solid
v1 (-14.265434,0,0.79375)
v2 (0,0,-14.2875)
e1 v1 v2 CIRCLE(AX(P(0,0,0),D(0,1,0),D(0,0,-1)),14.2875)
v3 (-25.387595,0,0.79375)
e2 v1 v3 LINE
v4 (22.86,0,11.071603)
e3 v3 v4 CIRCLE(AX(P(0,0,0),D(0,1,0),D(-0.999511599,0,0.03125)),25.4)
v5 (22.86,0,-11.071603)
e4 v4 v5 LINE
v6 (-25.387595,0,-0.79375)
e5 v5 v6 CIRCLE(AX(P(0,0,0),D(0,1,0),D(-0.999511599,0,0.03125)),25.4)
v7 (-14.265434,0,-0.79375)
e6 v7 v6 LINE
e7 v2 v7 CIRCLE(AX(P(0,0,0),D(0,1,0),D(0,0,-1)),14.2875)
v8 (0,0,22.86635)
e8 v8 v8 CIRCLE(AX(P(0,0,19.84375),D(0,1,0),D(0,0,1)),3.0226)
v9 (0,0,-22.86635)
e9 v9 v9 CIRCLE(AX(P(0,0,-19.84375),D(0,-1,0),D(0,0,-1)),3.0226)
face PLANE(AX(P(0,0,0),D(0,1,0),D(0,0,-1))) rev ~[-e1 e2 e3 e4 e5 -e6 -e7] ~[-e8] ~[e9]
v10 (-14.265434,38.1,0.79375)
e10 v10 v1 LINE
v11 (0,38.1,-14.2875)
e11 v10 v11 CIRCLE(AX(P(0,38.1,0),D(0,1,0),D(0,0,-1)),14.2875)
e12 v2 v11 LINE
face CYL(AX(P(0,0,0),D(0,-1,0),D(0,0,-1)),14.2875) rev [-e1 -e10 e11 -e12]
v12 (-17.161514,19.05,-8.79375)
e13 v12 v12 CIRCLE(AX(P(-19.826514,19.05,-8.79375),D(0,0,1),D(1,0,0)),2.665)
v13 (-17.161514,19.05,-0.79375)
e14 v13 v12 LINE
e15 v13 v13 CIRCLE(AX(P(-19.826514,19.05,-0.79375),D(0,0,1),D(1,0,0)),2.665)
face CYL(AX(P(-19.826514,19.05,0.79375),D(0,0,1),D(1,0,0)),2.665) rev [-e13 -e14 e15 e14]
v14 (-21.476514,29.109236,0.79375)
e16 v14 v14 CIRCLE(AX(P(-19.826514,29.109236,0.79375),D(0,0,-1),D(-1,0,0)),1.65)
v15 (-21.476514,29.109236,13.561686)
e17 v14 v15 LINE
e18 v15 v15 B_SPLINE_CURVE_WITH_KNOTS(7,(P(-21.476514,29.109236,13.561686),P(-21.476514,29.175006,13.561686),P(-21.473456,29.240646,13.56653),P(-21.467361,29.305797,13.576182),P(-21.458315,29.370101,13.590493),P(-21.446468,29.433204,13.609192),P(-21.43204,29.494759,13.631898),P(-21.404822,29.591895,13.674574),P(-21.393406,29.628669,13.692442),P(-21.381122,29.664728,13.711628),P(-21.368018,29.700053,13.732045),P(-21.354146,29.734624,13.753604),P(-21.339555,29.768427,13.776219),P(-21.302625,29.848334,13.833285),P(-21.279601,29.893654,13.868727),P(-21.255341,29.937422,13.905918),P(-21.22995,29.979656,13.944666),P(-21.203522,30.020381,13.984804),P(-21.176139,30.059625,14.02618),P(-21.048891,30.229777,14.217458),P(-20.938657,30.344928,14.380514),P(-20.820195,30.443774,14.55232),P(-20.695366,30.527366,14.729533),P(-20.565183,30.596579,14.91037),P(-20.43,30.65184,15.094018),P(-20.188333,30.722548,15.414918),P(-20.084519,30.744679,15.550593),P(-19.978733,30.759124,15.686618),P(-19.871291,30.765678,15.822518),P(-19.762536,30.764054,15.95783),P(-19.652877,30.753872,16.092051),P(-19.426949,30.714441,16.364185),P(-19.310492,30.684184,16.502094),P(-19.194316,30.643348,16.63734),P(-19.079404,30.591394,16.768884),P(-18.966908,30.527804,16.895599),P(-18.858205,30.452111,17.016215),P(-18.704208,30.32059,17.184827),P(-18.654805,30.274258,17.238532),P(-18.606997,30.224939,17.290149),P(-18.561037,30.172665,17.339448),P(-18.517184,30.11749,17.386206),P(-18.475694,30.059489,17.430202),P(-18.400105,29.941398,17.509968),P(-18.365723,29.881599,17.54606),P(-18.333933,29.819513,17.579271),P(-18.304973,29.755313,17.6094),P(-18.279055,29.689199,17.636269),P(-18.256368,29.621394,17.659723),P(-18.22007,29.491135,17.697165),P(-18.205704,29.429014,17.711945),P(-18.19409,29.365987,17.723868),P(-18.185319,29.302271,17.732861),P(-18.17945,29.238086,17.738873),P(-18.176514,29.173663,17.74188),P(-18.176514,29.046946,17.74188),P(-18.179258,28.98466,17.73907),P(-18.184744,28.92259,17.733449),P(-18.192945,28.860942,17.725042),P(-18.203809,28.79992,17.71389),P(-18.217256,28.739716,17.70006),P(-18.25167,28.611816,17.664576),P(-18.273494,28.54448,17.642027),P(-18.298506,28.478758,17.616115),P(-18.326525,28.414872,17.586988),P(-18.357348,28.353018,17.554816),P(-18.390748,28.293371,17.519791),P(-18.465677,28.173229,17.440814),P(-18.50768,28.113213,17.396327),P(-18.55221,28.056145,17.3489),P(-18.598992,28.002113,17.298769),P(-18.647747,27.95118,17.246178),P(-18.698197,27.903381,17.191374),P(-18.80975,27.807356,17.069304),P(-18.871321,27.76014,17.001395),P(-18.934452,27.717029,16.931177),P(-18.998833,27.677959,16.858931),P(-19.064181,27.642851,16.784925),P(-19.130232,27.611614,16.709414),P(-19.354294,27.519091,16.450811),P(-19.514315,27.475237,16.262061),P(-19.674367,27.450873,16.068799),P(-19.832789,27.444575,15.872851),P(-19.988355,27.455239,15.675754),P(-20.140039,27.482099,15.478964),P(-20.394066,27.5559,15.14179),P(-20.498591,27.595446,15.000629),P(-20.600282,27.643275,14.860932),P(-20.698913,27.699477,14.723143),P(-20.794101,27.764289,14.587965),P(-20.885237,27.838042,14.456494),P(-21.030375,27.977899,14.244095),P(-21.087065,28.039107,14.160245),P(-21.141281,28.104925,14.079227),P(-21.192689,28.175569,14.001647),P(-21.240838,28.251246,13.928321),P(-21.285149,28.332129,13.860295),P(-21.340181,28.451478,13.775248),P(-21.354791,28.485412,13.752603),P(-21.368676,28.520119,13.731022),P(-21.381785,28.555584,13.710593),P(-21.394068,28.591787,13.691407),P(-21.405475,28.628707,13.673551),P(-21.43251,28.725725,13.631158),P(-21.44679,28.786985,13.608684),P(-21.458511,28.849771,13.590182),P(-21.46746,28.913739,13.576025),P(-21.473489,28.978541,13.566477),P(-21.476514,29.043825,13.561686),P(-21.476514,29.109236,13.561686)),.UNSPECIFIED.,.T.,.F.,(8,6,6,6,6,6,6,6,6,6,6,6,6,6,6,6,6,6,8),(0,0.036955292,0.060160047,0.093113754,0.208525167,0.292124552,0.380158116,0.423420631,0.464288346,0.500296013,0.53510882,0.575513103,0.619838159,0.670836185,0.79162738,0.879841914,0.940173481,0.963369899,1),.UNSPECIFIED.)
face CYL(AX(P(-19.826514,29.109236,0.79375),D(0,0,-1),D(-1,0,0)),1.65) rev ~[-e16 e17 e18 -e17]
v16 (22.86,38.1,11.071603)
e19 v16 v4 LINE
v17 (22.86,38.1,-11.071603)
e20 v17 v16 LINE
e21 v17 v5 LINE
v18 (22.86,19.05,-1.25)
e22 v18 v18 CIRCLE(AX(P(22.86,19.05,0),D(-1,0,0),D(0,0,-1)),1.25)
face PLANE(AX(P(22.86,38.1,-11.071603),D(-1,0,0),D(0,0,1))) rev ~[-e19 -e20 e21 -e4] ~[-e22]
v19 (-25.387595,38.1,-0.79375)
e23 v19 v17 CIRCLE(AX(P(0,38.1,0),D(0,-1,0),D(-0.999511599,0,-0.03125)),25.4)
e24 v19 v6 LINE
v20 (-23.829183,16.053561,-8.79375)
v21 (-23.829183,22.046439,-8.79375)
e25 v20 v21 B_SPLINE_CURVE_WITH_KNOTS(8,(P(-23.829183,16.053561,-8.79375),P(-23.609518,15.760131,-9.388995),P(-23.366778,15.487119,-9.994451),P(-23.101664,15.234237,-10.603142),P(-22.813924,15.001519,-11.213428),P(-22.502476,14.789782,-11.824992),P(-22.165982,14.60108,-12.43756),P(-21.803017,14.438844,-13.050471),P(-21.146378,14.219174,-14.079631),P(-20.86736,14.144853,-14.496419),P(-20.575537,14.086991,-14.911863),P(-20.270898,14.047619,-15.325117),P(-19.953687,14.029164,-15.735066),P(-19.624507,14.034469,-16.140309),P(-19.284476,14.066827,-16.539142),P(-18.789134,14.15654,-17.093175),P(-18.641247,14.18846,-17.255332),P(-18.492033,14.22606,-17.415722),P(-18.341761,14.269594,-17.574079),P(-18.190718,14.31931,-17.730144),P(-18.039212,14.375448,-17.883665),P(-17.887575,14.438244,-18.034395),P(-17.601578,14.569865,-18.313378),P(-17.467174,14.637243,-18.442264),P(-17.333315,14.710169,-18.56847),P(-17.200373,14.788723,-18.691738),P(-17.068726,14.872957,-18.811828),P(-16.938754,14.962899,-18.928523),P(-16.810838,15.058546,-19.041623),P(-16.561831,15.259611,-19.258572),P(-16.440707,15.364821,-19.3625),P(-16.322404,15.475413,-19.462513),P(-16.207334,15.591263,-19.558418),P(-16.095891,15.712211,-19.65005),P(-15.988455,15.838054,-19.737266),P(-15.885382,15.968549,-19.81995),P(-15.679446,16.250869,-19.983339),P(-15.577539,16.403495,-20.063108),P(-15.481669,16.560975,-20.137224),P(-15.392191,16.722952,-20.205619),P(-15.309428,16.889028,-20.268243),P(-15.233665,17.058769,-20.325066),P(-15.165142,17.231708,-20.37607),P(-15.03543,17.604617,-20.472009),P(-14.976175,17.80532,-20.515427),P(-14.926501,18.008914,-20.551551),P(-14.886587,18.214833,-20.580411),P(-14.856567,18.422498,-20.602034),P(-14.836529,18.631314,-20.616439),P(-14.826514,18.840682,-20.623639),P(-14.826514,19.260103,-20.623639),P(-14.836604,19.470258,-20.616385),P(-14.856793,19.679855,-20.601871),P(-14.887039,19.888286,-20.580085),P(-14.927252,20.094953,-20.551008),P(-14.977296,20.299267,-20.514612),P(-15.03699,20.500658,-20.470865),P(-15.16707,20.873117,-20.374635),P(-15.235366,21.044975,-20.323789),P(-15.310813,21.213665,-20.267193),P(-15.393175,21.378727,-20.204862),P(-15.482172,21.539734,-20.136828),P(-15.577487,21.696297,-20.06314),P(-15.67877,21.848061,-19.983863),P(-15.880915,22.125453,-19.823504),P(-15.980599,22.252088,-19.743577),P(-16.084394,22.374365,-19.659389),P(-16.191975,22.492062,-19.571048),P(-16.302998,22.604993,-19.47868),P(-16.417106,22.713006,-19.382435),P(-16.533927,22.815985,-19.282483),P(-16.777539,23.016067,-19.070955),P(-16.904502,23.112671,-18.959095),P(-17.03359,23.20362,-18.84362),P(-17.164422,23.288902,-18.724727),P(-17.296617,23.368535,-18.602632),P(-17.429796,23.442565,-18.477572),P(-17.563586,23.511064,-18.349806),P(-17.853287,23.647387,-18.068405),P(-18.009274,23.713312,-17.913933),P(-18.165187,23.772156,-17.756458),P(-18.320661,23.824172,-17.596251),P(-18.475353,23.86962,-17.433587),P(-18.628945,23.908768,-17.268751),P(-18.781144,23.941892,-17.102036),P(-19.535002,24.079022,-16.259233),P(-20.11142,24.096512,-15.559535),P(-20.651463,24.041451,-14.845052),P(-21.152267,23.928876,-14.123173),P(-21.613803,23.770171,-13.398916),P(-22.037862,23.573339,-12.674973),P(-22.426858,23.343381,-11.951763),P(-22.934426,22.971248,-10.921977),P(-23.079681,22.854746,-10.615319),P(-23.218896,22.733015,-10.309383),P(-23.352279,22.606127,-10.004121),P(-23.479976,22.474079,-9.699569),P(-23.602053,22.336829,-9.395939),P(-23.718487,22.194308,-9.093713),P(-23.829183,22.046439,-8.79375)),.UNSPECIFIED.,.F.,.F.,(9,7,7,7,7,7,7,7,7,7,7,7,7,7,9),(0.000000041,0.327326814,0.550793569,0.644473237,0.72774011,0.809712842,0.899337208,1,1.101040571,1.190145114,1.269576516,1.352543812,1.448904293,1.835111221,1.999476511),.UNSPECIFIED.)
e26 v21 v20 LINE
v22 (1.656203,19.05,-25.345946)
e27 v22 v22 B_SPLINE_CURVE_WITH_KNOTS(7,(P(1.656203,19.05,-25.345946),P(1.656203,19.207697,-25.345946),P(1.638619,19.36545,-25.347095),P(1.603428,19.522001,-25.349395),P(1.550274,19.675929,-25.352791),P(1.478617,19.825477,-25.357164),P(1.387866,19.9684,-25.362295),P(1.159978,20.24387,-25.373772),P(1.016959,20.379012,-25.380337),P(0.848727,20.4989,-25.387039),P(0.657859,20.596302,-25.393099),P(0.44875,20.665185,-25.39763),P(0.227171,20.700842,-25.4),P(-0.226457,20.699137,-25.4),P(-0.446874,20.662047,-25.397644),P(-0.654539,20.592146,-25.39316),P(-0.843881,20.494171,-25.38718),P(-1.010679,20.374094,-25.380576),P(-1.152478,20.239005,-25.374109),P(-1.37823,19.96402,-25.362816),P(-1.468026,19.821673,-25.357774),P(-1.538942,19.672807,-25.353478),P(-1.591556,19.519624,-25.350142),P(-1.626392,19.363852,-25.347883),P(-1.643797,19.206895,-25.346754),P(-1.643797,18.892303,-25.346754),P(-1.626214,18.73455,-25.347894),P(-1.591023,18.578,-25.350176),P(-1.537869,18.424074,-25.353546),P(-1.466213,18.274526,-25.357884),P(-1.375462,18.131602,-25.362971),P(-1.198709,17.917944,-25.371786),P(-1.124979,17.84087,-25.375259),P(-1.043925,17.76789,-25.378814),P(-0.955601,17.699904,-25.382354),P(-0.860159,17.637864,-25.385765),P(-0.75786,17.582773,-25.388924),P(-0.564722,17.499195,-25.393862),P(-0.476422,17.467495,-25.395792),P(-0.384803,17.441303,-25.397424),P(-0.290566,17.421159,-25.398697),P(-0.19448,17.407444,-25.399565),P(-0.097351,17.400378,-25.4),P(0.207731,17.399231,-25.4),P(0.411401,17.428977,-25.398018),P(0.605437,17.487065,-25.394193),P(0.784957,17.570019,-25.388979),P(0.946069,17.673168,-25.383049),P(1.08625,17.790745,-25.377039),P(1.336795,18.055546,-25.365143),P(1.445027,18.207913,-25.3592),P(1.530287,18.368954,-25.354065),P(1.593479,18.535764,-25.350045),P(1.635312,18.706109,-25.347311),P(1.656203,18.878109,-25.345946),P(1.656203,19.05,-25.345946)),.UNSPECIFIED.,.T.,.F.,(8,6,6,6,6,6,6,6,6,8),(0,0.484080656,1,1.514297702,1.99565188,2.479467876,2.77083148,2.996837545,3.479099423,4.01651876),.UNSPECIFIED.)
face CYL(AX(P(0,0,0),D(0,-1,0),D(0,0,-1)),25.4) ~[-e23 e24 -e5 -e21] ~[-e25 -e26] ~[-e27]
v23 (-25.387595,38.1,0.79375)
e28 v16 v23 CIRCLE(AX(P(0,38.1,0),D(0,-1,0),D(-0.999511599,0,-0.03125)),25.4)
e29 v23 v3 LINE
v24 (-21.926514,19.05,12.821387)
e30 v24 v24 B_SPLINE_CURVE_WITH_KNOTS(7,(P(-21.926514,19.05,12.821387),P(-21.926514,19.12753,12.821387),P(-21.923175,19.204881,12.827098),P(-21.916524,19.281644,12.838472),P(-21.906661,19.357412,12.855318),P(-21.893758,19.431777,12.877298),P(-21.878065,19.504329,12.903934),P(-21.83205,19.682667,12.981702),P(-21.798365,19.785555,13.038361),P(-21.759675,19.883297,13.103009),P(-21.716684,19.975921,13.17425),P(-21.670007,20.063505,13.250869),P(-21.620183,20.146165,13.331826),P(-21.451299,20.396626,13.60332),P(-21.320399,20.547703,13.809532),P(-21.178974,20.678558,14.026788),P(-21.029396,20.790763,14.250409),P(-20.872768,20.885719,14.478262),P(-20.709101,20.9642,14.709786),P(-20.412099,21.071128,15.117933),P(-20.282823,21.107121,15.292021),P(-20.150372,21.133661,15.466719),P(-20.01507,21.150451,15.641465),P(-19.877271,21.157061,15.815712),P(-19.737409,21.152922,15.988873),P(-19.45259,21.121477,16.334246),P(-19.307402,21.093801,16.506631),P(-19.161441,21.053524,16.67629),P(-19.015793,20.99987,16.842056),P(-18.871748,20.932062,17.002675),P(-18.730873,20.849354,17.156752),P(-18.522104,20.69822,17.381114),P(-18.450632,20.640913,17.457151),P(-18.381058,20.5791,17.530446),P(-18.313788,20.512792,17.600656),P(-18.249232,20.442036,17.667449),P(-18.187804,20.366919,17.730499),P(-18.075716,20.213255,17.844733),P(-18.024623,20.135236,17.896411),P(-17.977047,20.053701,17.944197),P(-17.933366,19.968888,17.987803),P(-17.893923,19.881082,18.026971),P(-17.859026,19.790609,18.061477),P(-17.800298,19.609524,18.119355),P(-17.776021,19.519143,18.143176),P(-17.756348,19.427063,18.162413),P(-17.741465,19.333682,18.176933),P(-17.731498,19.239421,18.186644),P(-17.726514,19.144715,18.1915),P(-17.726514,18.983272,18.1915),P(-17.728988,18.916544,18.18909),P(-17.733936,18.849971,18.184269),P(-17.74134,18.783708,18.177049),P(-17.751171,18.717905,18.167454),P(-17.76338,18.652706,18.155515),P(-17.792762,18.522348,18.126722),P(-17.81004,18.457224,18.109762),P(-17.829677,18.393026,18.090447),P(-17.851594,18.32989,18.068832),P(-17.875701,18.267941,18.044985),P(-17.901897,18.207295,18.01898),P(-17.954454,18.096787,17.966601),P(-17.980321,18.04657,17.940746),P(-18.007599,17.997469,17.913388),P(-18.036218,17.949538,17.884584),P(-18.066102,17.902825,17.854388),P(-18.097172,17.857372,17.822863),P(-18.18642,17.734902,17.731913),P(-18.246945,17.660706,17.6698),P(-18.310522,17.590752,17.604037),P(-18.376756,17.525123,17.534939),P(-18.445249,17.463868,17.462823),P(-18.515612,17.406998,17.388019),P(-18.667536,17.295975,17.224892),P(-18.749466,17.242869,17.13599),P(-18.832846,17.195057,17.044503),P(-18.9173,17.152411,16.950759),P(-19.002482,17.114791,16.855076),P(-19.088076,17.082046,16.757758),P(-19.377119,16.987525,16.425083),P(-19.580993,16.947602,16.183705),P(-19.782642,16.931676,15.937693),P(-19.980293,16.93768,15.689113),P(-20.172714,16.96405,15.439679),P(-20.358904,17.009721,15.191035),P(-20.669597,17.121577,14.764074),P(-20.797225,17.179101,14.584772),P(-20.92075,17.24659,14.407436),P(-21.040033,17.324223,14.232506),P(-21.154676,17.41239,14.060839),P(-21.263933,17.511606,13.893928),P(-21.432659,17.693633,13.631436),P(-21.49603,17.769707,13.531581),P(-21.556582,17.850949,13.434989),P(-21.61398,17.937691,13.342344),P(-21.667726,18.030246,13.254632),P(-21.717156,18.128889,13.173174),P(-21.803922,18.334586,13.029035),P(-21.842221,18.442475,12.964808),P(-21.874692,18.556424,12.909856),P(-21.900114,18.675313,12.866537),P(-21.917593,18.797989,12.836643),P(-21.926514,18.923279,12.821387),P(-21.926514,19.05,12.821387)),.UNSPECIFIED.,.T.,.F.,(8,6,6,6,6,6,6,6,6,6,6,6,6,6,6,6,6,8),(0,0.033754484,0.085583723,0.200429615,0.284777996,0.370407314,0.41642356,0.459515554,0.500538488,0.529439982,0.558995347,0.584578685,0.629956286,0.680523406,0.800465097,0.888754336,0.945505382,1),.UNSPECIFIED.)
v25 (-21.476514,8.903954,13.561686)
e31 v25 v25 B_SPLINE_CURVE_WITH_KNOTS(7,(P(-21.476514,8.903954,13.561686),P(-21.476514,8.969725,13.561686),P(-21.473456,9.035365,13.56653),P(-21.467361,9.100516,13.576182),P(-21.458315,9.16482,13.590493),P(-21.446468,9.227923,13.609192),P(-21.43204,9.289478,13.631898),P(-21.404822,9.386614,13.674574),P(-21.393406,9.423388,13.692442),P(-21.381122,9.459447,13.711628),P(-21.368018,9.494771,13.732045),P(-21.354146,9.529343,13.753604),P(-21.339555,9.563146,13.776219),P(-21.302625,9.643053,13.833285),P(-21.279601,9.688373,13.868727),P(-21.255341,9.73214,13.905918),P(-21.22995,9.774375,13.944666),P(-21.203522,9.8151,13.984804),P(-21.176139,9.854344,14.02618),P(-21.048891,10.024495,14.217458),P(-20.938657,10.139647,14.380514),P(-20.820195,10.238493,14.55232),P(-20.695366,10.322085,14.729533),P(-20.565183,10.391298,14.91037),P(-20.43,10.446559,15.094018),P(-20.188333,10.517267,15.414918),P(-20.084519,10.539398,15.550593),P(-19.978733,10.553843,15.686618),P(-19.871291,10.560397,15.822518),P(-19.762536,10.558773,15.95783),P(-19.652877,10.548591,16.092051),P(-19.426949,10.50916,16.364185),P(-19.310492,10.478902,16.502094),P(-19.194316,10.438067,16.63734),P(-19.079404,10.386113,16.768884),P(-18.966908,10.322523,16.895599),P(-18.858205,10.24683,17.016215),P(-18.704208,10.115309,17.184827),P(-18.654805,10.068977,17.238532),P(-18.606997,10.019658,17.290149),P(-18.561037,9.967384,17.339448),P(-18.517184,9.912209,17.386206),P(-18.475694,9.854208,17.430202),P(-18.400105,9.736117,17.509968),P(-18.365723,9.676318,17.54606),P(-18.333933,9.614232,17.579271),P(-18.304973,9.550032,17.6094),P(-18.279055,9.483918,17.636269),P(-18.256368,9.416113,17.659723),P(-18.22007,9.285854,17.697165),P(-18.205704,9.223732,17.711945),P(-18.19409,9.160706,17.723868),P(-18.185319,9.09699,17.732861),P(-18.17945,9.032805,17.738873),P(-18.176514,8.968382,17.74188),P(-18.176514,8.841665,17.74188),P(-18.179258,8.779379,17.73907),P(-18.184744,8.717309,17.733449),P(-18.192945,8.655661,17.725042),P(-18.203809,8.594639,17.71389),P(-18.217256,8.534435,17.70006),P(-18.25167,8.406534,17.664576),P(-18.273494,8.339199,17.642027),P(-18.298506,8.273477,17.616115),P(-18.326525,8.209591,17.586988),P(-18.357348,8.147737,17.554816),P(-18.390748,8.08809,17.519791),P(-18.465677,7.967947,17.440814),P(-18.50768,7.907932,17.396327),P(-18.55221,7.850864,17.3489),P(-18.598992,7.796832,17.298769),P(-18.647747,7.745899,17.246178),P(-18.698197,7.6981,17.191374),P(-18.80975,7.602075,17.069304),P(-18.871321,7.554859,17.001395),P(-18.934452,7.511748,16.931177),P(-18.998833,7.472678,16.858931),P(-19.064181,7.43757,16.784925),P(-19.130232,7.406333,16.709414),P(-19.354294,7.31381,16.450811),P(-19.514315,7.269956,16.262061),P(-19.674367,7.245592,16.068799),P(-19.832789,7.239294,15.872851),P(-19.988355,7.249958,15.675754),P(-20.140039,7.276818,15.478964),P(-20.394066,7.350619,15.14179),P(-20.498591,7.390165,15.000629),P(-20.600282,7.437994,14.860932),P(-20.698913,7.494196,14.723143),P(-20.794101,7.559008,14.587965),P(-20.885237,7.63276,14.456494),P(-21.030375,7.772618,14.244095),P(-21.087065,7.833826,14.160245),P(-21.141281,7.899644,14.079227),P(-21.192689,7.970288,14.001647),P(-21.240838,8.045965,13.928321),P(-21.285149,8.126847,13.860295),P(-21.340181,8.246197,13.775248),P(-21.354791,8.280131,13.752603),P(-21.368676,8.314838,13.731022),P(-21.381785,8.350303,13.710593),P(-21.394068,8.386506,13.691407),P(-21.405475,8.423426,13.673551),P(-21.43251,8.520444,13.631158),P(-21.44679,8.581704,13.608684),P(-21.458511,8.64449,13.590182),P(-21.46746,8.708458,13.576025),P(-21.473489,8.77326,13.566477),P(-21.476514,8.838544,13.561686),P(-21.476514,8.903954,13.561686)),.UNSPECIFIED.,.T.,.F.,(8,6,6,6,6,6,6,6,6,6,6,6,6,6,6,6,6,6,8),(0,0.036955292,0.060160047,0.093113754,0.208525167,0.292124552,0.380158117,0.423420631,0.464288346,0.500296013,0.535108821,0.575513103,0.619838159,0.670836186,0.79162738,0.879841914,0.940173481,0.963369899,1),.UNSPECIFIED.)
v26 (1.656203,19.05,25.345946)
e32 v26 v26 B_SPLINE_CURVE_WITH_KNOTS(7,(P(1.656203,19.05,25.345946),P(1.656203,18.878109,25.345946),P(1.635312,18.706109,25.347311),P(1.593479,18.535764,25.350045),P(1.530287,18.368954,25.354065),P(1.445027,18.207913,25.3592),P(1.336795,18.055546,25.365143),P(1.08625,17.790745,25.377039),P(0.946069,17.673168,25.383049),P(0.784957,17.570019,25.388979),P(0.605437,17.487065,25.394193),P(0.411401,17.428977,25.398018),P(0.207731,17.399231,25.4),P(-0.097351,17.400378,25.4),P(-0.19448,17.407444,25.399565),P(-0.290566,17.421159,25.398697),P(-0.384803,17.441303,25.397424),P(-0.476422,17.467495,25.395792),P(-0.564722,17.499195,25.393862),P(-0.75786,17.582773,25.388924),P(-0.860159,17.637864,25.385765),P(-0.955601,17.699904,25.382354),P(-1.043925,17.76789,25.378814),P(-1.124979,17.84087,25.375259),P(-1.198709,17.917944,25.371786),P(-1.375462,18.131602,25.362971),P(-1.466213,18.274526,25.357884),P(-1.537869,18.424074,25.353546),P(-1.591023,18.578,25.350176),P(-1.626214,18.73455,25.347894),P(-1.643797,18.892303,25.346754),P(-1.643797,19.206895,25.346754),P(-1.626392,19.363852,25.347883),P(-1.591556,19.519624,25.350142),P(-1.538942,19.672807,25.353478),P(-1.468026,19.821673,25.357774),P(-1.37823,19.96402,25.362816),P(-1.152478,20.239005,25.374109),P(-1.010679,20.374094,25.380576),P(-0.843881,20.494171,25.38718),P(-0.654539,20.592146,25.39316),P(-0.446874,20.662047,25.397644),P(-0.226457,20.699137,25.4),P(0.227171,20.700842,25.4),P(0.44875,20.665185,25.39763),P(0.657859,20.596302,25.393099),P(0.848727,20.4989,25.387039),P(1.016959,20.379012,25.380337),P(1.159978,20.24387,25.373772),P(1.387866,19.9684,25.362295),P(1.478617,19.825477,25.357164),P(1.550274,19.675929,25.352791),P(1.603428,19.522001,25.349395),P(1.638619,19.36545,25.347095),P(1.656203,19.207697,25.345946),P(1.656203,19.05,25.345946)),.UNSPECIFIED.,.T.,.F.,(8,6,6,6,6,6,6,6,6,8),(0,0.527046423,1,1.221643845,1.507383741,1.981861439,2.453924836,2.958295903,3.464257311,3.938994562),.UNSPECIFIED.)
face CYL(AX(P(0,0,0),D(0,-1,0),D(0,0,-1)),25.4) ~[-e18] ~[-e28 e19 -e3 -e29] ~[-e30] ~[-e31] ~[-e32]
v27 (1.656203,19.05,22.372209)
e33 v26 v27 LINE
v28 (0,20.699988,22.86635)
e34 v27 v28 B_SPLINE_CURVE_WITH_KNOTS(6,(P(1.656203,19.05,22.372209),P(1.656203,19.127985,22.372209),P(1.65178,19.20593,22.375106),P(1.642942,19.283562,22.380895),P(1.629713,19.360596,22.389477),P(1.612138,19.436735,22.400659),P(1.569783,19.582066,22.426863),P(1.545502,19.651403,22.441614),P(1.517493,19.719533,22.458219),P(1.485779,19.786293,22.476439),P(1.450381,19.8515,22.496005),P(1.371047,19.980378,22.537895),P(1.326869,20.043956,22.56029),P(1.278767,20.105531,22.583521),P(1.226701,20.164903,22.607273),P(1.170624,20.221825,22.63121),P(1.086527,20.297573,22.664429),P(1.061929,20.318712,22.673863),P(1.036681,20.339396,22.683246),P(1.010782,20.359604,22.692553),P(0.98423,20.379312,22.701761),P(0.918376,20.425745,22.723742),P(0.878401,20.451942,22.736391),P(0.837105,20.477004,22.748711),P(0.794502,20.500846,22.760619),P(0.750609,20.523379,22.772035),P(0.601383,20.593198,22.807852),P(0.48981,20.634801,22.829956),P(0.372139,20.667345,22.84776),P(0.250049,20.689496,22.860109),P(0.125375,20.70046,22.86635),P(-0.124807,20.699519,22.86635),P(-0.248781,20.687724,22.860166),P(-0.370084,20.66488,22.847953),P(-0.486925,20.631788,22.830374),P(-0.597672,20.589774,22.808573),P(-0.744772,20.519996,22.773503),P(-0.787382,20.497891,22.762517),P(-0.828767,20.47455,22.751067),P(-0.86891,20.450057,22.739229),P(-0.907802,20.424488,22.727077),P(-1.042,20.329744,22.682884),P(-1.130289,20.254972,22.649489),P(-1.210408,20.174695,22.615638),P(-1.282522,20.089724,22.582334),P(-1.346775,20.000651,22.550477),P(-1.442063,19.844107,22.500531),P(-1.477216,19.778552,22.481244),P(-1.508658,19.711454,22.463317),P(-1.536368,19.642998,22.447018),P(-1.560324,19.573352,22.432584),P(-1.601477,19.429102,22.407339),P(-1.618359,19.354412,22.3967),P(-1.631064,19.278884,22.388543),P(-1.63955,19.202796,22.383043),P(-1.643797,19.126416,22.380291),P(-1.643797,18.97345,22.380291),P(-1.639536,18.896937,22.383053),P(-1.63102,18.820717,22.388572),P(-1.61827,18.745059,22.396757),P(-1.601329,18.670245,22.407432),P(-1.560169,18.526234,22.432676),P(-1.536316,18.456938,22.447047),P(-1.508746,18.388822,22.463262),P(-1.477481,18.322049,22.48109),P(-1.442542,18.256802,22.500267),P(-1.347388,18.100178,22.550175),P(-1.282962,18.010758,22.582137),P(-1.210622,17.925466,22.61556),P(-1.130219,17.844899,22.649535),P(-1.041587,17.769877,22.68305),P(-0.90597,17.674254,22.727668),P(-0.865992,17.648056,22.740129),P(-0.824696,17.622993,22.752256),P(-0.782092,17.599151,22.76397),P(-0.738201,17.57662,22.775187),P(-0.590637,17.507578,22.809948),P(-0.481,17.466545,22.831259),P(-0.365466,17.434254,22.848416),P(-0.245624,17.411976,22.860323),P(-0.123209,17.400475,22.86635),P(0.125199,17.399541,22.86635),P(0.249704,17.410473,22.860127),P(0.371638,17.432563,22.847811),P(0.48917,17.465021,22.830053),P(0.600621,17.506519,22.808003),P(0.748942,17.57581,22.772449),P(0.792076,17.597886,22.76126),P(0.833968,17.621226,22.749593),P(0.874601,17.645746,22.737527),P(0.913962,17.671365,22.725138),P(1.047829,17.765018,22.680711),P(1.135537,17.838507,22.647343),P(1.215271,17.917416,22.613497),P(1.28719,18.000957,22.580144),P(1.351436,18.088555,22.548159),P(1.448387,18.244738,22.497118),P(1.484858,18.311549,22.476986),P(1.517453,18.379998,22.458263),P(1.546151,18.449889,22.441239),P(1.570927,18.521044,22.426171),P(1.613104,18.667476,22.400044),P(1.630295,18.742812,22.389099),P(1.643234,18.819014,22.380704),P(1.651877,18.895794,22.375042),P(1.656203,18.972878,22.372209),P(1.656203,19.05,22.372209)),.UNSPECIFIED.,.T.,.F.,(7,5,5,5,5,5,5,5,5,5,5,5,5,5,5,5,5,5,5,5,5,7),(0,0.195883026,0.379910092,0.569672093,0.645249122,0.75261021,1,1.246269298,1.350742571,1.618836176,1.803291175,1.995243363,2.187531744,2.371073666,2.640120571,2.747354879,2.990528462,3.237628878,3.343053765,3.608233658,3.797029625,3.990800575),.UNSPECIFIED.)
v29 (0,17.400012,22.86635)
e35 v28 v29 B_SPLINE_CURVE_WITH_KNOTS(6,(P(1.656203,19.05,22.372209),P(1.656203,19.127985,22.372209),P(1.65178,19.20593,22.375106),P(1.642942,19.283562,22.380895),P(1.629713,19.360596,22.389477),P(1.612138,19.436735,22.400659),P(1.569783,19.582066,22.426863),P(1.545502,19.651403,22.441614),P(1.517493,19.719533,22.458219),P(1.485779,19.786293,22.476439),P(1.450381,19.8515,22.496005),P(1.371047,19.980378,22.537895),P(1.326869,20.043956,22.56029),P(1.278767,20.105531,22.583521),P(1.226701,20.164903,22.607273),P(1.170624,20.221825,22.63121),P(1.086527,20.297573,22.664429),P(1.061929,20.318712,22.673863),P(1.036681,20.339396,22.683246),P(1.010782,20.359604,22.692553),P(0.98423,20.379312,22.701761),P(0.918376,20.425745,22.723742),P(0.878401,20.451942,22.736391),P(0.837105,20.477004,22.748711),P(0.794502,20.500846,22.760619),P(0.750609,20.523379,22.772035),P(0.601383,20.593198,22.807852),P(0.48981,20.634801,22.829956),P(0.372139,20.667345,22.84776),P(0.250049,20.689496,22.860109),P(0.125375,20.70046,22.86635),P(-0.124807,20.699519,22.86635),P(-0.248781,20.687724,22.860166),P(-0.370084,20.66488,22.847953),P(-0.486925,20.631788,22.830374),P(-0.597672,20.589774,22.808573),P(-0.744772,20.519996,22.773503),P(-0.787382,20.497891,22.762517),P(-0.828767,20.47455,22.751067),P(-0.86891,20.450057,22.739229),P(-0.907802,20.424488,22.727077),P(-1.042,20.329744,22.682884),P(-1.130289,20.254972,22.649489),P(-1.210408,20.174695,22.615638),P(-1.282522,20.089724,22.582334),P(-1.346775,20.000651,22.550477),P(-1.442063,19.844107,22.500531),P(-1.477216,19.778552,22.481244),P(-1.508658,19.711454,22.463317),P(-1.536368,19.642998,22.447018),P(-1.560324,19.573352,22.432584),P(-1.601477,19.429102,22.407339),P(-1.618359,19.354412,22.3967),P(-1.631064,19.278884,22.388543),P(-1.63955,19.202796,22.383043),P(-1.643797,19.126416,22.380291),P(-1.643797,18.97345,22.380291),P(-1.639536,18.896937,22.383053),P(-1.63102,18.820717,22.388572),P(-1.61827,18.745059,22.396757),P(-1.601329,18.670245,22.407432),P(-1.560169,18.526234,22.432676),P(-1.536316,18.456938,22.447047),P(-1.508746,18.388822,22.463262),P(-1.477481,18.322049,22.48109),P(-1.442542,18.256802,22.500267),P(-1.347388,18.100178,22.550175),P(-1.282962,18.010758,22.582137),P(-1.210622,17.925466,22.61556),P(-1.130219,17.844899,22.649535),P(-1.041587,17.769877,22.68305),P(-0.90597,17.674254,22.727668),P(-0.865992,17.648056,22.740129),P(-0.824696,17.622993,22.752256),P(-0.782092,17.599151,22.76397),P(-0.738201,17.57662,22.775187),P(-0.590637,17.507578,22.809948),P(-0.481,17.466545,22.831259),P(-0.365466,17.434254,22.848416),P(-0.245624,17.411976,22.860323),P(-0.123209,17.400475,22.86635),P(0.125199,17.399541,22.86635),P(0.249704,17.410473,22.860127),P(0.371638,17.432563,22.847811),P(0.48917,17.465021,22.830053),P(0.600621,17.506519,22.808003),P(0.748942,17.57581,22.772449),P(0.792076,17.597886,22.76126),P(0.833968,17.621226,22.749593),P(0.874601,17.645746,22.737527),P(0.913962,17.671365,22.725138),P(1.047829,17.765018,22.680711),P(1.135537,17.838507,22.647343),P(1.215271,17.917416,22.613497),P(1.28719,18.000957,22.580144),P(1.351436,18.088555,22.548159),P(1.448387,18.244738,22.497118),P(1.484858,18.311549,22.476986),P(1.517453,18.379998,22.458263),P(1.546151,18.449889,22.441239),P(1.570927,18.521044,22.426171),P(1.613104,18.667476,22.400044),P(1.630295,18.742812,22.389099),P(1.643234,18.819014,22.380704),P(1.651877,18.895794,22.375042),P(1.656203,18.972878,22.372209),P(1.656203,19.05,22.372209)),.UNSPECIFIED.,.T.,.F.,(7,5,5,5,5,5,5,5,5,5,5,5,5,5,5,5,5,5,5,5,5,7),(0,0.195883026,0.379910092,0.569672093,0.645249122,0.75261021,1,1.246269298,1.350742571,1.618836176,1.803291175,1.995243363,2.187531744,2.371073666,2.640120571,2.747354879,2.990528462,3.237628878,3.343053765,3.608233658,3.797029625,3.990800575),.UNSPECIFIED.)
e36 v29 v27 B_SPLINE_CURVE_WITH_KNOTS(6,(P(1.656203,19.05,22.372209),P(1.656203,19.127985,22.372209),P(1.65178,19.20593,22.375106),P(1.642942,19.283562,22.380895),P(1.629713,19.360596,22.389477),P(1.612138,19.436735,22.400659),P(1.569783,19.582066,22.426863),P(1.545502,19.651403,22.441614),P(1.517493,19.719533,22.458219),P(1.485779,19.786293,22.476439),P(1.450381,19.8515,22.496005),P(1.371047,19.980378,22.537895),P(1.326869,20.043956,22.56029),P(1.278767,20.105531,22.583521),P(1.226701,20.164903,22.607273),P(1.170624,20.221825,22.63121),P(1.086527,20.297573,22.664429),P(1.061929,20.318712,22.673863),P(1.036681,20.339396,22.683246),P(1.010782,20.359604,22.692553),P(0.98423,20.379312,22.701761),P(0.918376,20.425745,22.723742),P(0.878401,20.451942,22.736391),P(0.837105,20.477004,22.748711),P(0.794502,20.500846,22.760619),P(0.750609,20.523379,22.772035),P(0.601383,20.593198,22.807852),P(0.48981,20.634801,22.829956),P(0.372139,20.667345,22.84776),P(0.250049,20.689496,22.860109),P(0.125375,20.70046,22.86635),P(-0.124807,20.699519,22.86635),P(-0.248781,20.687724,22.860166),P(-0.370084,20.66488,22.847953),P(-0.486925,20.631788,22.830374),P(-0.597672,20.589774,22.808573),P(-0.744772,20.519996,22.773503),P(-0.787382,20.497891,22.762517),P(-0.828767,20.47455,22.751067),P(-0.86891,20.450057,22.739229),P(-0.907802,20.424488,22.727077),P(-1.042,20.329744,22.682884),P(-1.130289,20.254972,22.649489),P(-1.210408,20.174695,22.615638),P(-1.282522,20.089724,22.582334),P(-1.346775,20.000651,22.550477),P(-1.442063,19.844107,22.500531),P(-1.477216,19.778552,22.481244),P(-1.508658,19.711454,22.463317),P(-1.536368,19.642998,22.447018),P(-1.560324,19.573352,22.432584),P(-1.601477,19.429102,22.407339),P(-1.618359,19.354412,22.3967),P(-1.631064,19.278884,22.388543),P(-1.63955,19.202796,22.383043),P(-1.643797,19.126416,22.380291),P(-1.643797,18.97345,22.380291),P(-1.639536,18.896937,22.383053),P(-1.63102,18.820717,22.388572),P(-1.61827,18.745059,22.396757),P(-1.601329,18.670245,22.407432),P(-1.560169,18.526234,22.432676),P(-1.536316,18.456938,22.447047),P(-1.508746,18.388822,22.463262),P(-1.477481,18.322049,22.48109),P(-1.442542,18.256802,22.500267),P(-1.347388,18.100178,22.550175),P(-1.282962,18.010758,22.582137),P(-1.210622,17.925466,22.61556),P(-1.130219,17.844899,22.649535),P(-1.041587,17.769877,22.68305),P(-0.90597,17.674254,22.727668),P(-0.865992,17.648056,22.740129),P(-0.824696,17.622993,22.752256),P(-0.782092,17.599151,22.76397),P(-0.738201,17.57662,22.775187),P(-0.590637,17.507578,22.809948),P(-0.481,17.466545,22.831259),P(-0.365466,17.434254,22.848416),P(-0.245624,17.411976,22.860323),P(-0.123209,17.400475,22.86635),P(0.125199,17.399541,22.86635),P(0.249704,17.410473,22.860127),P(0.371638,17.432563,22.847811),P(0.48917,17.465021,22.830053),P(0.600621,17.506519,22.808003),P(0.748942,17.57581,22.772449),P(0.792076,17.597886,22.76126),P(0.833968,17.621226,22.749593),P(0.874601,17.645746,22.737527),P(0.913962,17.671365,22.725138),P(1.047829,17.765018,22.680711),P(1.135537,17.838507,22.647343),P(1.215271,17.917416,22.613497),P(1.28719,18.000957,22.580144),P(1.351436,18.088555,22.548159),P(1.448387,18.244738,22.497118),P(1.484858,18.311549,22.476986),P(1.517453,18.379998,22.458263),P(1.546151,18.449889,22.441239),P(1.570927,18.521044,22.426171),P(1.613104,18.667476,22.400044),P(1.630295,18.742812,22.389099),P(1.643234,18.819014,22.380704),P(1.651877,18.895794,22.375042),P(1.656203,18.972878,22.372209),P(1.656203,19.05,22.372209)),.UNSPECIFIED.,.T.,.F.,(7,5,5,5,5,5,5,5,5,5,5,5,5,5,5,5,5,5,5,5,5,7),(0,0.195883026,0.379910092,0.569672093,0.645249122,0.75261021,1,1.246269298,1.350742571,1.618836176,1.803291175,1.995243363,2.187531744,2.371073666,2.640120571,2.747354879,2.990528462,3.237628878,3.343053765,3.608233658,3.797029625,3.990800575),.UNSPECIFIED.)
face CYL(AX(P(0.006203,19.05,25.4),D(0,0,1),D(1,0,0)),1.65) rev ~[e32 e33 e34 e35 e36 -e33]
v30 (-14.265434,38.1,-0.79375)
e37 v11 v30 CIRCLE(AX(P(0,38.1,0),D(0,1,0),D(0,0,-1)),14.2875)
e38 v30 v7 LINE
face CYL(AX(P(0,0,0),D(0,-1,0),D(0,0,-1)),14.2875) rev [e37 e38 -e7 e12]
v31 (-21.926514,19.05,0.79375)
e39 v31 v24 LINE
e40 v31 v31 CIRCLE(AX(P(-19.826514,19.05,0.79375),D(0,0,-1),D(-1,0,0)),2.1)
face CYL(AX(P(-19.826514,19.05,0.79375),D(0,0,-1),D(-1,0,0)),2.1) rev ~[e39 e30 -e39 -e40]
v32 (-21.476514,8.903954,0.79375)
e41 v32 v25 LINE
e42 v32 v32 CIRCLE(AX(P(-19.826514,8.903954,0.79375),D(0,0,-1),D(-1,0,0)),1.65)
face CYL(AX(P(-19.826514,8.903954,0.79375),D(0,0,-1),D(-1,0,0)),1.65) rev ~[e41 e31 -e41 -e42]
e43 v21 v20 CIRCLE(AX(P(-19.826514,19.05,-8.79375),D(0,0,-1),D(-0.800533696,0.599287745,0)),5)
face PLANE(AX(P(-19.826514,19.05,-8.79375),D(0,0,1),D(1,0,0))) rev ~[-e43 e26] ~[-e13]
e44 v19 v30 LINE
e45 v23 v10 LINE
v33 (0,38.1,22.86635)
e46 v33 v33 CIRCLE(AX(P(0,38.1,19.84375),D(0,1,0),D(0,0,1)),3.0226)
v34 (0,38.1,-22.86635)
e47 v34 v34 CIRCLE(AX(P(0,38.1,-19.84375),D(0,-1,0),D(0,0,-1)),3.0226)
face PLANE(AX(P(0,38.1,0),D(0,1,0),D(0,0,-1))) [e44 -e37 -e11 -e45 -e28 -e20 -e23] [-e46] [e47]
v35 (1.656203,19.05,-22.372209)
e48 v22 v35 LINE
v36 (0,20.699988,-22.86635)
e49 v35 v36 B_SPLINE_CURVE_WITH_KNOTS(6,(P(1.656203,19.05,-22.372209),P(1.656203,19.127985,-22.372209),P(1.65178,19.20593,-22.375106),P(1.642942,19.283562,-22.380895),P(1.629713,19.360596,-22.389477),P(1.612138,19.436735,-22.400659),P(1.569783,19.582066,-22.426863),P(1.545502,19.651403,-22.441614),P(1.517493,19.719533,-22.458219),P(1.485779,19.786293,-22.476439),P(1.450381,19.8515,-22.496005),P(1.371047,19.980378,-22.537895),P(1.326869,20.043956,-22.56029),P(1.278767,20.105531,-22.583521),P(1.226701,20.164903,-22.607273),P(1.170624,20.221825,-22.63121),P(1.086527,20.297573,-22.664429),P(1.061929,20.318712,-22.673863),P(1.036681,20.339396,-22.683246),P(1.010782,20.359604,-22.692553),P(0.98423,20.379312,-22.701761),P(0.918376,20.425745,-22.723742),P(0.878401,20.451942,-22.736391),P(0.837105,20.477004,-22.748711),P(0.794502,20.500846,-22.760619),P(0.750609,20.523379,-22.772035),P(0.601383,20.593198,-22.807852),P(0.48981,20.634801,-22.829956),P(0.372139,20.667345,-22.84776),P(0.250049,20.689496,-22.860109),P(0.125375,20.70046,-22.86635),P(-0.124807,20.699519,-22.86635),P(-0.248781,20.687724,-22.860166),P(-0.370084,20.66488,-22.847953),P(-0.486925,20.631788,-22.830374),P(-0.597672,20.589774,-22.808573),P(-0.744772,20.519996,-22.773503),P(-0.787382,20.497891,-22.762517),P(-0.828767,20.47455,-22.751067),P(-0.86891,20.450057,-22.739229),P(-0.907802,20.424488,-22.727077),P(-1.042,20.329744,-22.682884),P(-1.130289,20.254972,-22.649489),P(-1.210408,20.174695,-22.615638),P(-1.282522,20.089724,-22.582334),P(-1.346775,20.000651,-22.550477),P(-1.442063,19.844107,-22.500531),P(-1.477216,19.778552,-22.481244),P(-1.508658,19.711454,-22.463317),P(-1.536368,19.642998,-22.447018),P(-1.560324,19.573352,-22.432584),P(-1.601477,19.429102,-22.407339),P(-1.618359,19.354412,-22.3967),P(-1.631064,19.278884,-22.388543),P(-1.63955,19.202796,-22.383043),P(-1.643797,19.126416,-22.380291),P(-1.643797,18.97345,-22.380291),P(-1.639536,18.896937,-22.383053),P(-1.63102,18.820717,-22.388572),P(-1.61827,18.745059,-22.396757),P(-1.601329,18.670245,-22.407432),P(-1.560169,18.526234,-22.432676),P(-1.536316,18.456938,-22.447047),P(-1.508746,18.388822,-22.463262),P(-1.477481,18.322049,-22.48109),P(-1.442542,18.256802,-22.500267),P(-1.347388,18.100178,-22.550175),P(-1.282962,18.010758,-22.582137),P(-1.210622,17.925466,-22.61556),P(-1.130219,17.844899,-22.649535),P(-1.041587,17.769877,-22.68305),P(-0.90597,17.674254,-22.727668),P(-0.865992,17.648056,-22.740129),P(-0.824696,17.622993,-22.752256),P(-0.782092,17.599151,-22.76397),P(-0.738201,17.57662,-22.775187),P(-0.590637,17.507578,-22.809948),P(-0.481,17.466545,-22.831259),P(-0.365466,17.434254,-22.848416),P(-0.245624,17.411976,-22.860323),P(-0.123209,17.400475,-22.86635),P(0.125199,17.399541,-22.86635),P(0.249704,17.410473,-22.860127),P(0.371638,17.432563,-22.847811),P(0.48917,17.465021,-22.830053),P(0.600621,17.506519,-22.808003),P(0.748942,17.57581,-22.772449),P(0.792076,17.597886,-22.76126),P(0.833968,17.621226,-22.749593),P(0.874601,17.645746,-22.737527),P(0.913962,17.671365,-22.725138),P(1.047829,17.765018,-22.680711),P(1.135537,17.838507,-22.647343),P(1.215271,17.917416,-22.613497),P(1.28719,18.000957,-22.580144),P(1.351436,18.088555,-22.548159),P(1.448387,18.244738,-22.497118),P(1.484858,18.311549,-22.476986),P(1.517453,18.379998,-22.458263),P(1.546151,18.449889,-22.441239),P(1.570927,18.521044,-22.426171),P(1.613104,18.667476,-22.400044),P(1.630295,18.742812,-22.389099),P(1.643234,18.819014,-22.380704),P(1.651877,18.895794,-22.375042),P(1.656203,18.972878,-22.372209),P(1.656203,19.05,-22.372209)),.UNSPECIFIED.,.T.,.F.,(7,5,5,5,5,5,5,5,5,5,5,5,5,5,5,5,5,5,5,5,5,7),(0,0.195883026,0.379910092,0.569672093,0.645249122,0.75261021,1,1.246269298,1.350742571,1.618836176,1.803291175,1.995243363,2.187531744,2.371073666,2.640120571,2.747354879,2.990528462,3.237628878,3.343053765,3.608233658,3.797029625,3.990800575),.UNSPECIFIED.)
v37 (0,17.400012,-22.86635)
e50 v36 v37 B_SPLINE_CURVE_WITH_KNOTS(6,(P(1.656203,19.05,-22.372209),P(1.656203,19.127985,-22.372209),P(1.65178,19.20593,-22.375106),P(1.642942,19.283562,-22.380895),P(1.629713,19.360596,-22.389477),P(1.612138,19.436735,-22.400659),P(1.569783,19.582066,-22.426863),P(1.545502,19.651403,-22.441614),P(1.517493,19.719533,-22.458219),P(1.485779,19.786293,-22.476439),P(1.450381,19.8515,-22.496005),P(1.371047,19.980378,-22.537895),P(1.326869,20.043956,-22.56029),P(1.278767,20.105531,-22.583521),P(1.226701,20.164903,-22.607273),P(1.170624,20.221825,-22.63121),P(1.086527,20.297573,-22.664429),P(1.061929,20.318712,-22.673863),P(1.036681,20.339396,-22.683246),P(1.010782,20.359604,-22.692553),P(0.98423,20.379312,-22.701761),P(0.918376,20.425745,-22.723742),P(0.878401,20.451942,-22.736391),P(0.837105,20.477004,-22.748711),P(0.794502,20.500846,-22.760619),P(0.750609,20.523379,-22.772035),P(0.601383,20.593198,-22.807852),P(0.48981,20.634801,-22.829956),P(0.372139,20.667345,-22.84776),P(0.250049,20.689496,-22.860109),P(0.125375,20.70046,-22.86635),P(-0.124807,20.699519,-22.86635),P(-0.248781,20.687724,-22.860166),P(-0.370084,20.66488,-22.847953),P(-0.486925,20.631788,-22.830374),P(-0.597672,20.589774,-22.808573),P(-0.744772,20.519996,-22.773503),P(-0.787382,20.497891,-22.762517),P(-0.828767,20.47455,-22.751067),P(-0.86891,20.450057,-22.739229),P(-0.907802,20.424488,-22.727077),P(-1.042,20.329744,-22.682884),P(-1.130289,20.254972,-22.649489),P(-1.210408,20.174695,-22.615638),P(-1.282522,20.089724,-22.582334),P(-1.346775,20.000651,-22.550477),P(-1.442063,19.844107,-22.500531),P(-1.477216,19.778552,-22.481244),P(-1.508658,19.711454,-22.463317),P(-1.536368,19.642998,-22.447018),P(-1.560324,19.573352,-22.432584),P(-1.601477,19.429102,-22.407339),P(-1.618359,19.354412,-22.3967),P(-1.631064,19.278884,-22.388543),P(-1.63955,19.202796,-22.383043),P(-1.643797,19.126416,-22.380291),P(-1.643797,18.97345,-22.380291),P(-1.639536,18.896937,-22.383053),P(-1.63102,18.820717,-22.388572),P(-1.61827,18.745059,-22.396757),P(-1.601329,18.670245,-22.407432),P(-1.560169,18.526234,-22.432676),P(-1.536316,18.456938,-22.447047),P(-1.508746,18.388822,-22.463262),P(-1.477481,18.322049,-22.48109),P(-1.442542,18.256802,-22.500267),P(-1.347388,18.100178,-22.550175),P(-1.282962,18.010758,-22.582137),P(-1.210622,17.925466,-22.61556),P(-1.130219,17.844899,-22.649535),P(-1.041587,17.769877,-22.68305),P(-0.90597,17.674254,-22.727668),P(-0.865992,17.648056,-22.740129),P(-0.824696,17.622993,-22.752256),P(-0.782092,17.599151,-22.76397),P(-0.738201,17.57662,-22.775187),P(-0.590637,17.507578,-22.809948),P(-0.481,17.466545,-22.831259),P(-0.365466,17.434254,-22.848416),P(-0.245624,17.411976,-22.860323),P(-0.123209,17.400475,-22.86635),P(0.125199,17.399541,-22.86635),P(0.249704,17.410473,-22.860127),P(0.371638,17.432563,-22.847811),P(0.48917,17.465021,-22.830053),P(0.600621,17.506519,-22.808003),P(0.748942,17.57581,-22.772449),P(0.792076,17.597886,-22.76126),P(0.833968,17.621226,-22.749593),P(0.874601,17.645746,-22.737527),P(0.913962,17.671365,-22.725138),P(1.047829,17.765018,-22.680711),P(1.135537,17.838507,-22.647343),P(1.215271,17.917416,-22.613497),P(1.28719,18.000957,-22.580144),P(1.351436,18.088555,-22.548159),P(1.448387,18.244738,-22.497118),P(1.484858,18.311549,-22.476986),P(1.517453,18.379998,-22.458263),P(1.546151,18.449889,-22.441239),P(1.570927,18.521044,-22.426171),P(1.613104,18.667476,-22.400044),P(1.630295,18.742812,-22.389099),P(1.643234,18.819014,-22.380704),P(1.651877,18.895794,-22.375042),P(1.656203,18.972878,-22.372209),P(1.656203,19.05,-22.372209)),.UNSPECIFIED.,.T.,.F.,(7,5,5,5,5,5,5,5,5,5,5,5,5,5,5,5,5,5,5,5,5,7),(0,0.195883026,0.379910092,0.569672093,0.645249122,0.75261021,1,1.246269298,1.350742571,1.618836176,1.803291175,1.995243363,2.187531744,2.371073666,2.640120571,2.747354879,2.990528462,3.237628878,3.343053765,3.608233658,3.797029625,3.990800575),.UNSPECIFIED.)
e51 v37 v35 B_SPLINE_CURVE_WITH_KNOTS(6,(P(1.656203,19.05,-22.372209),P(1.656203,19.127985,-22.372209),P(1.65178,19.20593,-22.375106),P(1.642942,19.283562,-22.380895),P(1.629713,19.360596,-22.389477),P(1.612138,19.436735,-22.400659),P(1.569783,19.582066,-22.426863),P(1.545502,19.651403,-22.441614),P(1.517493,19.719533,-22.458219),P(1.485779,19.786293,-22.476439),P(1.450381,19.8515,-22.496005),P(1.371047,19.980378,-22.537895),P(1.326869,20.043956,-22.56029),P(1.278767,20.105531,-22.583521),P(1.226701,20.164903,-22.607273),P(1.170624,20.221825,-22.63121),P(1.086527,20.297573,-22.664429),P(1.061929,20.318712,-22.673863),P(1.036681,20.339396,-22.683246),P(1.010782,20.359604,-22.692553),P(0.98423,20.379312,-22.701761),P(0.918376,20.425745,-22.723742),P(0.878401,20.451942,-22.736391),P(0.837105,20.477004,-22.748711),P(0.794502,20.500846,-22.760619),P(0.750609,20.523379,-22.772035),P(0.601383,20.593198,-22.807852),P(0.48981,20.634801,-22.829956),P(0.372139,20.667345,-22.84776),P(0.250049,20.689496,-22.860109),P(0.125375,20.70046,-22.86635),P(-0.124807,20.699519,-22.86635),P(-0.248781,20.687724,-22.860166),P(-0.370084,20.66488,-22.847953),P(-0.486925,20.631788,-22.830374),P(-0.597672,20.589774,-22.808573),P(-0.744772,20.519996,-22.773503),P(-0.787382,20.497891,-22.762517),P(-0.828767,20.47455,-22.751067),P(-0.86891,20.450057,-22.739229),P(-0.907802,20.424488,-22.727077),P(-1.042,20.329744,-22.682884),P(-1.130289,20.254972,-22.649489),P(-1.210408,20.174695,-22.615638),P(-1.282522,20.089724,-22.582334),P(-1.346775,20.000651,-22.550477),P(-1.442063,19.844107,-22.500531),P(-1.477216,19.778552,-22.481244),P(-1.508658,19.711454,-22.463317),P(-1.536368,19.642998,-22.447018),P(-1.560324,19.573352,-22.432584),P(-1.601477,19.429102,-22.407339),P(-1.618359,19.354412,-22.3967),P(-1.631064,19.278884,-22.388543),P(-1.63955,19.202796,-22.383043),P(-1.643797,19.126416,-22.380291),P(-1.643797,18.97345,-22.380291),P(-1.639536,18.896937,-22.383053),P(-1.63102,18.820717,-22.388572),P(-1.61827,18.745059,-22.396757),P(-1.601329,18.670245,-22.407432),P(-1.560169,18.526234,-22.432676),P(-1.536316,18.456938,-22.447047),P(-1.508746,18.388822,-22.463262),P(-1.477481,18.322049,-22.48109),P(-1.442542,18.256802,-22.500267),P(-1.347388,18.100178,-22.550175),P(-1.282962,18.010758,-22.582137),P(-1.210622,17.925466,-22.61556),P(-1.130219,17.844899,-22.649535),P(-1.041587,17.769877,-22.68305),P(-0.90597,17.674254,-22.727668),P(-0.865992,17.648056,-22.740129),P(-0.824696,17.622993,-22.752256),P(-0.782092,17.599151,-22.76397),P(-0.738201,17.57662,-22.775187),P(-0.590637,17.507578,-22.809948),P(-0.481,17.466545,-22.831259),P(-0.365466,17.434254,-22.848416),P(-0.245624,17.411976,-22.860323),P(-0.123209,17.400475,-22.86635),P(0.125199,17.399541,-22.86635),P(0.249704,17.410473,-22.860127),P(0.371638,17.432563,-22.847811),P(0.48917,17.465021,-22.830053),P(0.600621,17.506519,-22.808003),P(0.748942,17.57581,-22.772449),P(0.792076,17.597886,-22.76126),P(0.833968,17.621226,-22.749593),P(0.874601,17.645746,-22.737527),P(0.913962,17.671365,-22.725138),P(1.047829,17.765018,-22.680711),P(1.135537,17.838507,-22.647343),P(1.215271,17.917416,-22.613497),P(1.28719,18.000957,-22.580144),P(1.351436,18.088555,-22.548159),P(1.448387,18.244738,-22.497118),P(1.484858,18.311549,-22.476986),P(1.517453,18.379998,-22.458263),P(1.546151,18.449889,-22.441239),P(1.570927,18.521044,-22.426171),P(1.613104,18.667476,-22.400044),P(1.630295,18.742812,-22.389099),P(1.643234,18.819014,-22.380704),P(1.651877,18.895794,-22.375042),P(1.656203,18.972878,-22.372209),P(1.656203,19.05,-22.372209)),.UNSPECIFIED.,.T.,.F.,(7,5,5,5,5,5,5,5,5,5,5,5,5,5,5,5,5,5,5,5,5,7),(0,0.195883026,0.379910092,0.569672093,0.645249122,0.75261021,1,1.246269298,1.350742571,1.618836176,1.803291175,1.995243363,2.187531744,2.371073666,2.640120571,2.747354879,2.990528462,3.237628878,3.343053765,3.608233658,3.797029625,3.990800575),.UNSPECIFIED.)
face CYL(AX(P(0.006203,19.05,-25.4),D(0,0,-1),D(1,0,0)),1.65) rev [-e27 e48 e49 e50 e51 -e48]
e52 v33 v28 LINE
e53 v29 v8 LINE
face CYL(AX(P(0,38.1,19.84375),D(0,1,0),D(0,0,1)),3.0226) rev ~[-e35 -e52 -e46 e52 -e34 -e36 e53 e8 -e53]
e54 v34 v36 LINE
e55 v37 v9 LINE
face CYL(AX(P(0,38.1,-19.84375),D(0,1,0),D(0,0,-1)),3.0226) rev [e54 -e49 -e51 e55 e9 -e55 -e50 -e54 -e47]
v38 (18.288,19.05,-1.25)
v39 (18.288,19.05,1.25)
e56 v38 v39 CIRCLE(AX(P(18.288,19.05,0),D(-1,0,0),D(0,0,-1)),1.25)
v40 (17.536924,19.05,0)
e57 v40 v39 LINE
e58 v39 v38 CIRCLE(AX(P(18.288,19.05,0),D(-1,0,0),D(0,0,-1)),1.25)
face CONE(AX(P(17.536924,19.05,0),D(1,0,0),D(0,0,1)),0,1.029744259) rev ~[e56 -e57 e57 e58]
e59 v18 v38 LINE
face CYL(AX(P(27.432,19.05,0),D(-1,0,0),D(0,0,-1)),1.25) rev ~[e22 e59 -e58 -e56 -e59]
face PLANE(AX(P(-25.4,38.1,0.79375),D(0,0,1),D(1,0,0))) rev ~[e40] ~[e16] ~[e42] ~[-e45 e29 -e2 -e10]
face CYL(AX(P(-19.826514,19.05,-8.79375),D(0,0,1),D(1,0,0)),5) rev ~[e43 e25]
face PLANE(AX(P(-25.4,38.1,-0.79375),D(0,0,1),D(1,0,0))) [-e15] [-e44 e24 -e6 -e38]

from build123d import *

# Parameters (mm, degrees)
SKETCH2_R                        = 25.4
SKETCH2_R_2                      = 14.2875
BOSS_EXTRUDE1_DEPTH              = 38.1
CUT_EXTRUDE1_REACH               = 54.363
SKETCH3_W                        = 25.4
SKETCH3_H                        = 1.5875
CUT_EXTRUDE2_REACH               = 54.363
SKETCH4_R                        = 3.0226
TAP_DRILL_FOR_M4X0_7_TAP1_REACH  = 61.824
TAP_DRILL_FOR_M4X0_7_TAP1_BORE_R = 1.65
CUT_EXTRUDE5_REACH               = 70.392
CUT_EXTRUDE5_END_RADIUS          = 3.0226
SKETCH11_R                       = 1.65
CUT_EXTRUDE6_REACH               = 54.363
TAP_DRILL_FOR_M3X0_5_TAP2_D      = 2.5
TAP_DRILL_FOR_M3X0_5_TAP2_DEPTH  = 4.572
TAP_DRILL_FOR_M3X0_5_TAP2_TIP    = 0.751075774
TAP_DRILL_FOR_M5X0_8_TAP1_REACH  = 55.583
TAP_DRILL_FOR_M5X0_8_TAP1_BORE_R = 2.1
SKETCH15_R                       = 2.665
CUT_EXTRUDE7_DEPTH               = 53.7470617
CUT_EXTRUDE8_REACH               = 59.143
SKETCH19_R                       = 5


with BuildPart() as part:
    # Sketch2 → Boss-Extrude1 (new body)
    with BuildSketch(Plane(origin=(0, 0, 0), x_dir=(1, 0, 0), z_dir=(0, 1, 0))):
        with Locations(Location((0, 0, 0), (0, 0, 90))):
            Circle(SKETCH2_R)
        with Locations(Location((0, 0, 0), (0, 0, 90))):
            Circle(SKETCH2_R_2, mode=Mode.SUBTRACT)
    extrude(amount=BOSS_EXTRUDE1_DEPTH)

    # Sketch3 → Cut-Extrude1 (cut, up to next)
    with BuildSketch(Plane(origin=(0, 38.1, 0), x_dir=(1, 0, 0), z_dir=(0, 1, 0)), mode=Mode.PRIVATE) as cut_extrude1_sk1:
        with Locations((-12.7, 0)):
            Rectangle(SKETCH3_W, SKETCH3_H)
    cut_extrude1_tool1 = extrude(cut_extrude1_sk1.sketch, amount=-CUT_EXTRUDE1_REACH, mode=Mode.PRIVATE) & part.part
    add(cut_extrude1_tool1.solids().sort_by_distance((-12.7, 38.1, 0))[0], mode=Mode.SUBTRACT)

    # Sketch4 → Cut-Extrude2 (cut, up to next)
    with BuildSketch(Plane(origin=(0, 38.1, 0), x_dir=(1, 0, 0), z_dir=(0, 1, 0)), mode=Mode.PRIVATE) as cut_extrude2_sk1:
        with Locations(Location((0, -19.84375, 0), (0, 0, 270))):
            Circle(SKETCH4_R)
    cut_extrude2_tool1 = extrude(cut_extrude2_sk1.sketch, amount=-CUT_EXTRUDE2_REACH, mode=Mode.PRIVATE) & part.part
    cut_extrude2 = cut_extrude2_tool1.solids().sort_by_distance((0, 38.1, 19.84375))[0]
    add(cut_extrude2, mode=Mode.SUBTRACT)

    # Tap Drill for M4x0.7 Tap1 bore (on position points) → Tap Drill for M4x0.7 Tap1 (cut, up to next)
    with BuildSketch(Plane(origin=(-19.826514488, 29.109235595, 0.79375), x_dir=(-1, 0, 0), z_dir=(0, 0, -1)), mode=Mode.PRIVATE) as tap_drill_for_m4x0_7_tap1_sk1:
        Circle(TAP_DRILL_FOR_M4X0_7_TAP1_BORE_R)
    tap_drill_for_m4x0_7_tap1_tool1 = extrude(tap_drill_for_m4x0_7_tap1_sk1.sketch, amount=-TAP_DRILL_FOR_M4X0_7_TAP1_REACH, mode=Mode.PRIVATE) & part.part
    # Tap Drill for M4x0.7 Tap1 bore (on position points) → Tap Drill for M4x0.7 Tap1 (cut, up to next)
    with BuildSketch(Plane(origin=(-19.826514488, 29.109235595, 0.79375), x_dir=(-1, 0, 0), z_dir=(0, 0, -1)), mode=Mode.PRIVATE) as tap_drill_for_m4x0_7_tap1_sk2:
        with Locations((0, -20.205281104)):
            Circle(TAP_DRILL_FOR_M4X0_7_TAP1_BORE_R)
    tap_drill_for_m4x0_7_tap1_tool2 = extrude(tap_drill_for_m4x0_7_tap1_sk2.sketch, amount=-TAP_DRILL_FOR_M4X0_7_TAP1_REACH, mode=Mode.PRIVATE) & part.part
    add(tap_drill_for_m4x0_7_tap1_tool1.solids().sort_by_distance((-19.826514, 29.109236, 0.79375))[0], mode=Mode.SUBTRACT)
    add(tap_drill_for_m4x0_7_tap1_tool2.solids().sort_by_distance((-19.826514, 8.903954, 0.79375))[0], mode=Mode.SUBTRACT)

    # Cut-Extrude5: up to this cylinder (the profile starts outside it)
    cut_extrude5_end = Plane(origin=(0, 19.05, 19.84375), z_dir=(0, 1, 0)) * Cylinder(CUT_EXTRUDE5_END_RADIUS, 147.8292, mode=Mode.PRIVATE)
    # Sketch11 → Cut-Extrude5 (cut, up to the surface)
    with BuildSketch(Plane.XY.offset(25.4), mode=Mode.PRIVATE) as cut_extrude5_sk1:
        with Locations((0.006202687, 19.05)):
            Circle(SKETCH11_R)
    cut_extrude5_tool1 = extrude(cut_extrude5_sk1.sketch, amount=-CUT_EXTRUDE5_REACH, mode=Mode.PRIVATE) - cut_extrude5_end
    cut_extrude5 = cut_extrude5_tool1.solids().sort_by_distance((0.006203, 19.05, 25.4))[0]
    add(cut_extrude5, mode=Mode.SUBTRACT)

    # Mirror1: Cut-Extrude2, Cut-Extrude5 across plane
    add(cut_extrude2.mirror(Plane.XY), mode=Mode.SUBTRACT)
    add(cut_extrude5.mirror(Plane.XY), mode=Mode.SUBTRACT)

    # Sketch12 → Cut-Extrude6 (cut, up to next)
    with BuildSketch(Plane(origin=(0, 38.1, 0), x_dir=(1, 0, 0), z_dir=(0, 1, 0)), mode=Mode.PRIVATE) as cut_extrude6_sk1:
        with BuildLine():
            Line((22.86, 11.071603317), (22.86, -11.071603317))
            ThreePointArc((22.86, -11.071603317), (25.4, 0), (22.86, 11.071603317))
        make_face()
    cut_extrude6_tool1 = extrude(cut_extrude6_sk1.sketch, amount=-CUT_EXTRUDE6_REACH, mode=Mode.PRIVATE) & part.part
    add(cut_extrude6_tool1.solids().sort_by_distance((23.880484, 38.1, 0))[0], mode=Mode.SUBTRACT)

    # Tap Drill for M3x0.5 Tap2
    with Locations(Plane(origin=(22.86, 19.05, 0), x_dir=(0, 0, 1), z_dir=(1, 0, 0))):
        with Locations((0, 0)):
            Hole(TAP_DRILL_FOR_M3X0_5_TAP2_D / 2, depth=TAP_DRILL_FOR_M3X0_5_TAP2_DEPTH)
            with Locations((0, 0, -(TAP_DRILL_FOR_M3X0_5_TAP2_DEPTH + TAP_DRILL_FOR_M3X0_5_TAP2_TIP / 2))):  # 118° drill point
                Cone(0, TAP_DRILL_FOR_M3X0_5_TAP2_D / 2, TAP_DRILL_FOR_M3X0_5_TAP2_TIP, mode=Mode.SUBTRACT)

    # Tap Drill for M5x0.8 Tap1 bore (on position points) → Tap Drill for M5x0.8 Tap1 (cut, up to next)
    with BuildSketch(Plane(origin=(-19.826514488, 19.05, 0.79375), x_dir=(-1, 0, 0), z_dir=(0, 0, -1)), mode=Mode.PRIVATE) as tap_drill_for_m5x0_8_tap1_sk1:
        Circle(TAP_DRILL_FOR_M5X0_8_TAP1_BORE_R)
    tap_drill_for_m5x0_8_tap1_tool1 = extrude(tap_drill_for_m5x0_8_tap1_sk1.sketch, amount=-TAP_DRILL_FOR_M5X0_8_TAP1_REACH, mode=Mode.PRIVATE) & part.part
    add(tap_drill_for_m5x0_8_tap1_tool1.solids().sort_by_distance((-19.826514, 19.05, 0.79375))[0], mode=Mode.SUBTRACT)

    # Sketch15 → Cut-Extrude7 (cut, through all)
    with BuildSketch(Plane(origin=(0, 0, 0.79375), x_dir=(-1, 0, 0), z_dir=(0, 0, -1))):
        with Locations(Location((19.826514488, 19.05, 0), (0, 0, 180))):
            Circle(SKETCH15_R)
    extrude(amount=CUT_EXTRUDE7_DEPTH, mode=Mode.SUBTRACT)

    # Sketch19 → Cut-Extrude8 (cut, up to next)
    with BuildSketch(Plane.XY.offset(-8.79375), mode=Mode.PRIVATE) as cut_extrude8_sk1:
        with Locations((-19.826514488, 19.05)):
            Circle(SKETCH19_R)
    cut_extrude8_tool1 = extrude(cut_extrude8_sk1.sketch, amount=-CUT_EXTRUDE8_REACH, mode=Mode.PRIVATE) & part.part
    add(cut_extrude8_tool1.solids().sort_by_distance((-19.826514, 19.05, -8.79375))[0], mode=Mode.SUBTRACT)


solid = part.part
